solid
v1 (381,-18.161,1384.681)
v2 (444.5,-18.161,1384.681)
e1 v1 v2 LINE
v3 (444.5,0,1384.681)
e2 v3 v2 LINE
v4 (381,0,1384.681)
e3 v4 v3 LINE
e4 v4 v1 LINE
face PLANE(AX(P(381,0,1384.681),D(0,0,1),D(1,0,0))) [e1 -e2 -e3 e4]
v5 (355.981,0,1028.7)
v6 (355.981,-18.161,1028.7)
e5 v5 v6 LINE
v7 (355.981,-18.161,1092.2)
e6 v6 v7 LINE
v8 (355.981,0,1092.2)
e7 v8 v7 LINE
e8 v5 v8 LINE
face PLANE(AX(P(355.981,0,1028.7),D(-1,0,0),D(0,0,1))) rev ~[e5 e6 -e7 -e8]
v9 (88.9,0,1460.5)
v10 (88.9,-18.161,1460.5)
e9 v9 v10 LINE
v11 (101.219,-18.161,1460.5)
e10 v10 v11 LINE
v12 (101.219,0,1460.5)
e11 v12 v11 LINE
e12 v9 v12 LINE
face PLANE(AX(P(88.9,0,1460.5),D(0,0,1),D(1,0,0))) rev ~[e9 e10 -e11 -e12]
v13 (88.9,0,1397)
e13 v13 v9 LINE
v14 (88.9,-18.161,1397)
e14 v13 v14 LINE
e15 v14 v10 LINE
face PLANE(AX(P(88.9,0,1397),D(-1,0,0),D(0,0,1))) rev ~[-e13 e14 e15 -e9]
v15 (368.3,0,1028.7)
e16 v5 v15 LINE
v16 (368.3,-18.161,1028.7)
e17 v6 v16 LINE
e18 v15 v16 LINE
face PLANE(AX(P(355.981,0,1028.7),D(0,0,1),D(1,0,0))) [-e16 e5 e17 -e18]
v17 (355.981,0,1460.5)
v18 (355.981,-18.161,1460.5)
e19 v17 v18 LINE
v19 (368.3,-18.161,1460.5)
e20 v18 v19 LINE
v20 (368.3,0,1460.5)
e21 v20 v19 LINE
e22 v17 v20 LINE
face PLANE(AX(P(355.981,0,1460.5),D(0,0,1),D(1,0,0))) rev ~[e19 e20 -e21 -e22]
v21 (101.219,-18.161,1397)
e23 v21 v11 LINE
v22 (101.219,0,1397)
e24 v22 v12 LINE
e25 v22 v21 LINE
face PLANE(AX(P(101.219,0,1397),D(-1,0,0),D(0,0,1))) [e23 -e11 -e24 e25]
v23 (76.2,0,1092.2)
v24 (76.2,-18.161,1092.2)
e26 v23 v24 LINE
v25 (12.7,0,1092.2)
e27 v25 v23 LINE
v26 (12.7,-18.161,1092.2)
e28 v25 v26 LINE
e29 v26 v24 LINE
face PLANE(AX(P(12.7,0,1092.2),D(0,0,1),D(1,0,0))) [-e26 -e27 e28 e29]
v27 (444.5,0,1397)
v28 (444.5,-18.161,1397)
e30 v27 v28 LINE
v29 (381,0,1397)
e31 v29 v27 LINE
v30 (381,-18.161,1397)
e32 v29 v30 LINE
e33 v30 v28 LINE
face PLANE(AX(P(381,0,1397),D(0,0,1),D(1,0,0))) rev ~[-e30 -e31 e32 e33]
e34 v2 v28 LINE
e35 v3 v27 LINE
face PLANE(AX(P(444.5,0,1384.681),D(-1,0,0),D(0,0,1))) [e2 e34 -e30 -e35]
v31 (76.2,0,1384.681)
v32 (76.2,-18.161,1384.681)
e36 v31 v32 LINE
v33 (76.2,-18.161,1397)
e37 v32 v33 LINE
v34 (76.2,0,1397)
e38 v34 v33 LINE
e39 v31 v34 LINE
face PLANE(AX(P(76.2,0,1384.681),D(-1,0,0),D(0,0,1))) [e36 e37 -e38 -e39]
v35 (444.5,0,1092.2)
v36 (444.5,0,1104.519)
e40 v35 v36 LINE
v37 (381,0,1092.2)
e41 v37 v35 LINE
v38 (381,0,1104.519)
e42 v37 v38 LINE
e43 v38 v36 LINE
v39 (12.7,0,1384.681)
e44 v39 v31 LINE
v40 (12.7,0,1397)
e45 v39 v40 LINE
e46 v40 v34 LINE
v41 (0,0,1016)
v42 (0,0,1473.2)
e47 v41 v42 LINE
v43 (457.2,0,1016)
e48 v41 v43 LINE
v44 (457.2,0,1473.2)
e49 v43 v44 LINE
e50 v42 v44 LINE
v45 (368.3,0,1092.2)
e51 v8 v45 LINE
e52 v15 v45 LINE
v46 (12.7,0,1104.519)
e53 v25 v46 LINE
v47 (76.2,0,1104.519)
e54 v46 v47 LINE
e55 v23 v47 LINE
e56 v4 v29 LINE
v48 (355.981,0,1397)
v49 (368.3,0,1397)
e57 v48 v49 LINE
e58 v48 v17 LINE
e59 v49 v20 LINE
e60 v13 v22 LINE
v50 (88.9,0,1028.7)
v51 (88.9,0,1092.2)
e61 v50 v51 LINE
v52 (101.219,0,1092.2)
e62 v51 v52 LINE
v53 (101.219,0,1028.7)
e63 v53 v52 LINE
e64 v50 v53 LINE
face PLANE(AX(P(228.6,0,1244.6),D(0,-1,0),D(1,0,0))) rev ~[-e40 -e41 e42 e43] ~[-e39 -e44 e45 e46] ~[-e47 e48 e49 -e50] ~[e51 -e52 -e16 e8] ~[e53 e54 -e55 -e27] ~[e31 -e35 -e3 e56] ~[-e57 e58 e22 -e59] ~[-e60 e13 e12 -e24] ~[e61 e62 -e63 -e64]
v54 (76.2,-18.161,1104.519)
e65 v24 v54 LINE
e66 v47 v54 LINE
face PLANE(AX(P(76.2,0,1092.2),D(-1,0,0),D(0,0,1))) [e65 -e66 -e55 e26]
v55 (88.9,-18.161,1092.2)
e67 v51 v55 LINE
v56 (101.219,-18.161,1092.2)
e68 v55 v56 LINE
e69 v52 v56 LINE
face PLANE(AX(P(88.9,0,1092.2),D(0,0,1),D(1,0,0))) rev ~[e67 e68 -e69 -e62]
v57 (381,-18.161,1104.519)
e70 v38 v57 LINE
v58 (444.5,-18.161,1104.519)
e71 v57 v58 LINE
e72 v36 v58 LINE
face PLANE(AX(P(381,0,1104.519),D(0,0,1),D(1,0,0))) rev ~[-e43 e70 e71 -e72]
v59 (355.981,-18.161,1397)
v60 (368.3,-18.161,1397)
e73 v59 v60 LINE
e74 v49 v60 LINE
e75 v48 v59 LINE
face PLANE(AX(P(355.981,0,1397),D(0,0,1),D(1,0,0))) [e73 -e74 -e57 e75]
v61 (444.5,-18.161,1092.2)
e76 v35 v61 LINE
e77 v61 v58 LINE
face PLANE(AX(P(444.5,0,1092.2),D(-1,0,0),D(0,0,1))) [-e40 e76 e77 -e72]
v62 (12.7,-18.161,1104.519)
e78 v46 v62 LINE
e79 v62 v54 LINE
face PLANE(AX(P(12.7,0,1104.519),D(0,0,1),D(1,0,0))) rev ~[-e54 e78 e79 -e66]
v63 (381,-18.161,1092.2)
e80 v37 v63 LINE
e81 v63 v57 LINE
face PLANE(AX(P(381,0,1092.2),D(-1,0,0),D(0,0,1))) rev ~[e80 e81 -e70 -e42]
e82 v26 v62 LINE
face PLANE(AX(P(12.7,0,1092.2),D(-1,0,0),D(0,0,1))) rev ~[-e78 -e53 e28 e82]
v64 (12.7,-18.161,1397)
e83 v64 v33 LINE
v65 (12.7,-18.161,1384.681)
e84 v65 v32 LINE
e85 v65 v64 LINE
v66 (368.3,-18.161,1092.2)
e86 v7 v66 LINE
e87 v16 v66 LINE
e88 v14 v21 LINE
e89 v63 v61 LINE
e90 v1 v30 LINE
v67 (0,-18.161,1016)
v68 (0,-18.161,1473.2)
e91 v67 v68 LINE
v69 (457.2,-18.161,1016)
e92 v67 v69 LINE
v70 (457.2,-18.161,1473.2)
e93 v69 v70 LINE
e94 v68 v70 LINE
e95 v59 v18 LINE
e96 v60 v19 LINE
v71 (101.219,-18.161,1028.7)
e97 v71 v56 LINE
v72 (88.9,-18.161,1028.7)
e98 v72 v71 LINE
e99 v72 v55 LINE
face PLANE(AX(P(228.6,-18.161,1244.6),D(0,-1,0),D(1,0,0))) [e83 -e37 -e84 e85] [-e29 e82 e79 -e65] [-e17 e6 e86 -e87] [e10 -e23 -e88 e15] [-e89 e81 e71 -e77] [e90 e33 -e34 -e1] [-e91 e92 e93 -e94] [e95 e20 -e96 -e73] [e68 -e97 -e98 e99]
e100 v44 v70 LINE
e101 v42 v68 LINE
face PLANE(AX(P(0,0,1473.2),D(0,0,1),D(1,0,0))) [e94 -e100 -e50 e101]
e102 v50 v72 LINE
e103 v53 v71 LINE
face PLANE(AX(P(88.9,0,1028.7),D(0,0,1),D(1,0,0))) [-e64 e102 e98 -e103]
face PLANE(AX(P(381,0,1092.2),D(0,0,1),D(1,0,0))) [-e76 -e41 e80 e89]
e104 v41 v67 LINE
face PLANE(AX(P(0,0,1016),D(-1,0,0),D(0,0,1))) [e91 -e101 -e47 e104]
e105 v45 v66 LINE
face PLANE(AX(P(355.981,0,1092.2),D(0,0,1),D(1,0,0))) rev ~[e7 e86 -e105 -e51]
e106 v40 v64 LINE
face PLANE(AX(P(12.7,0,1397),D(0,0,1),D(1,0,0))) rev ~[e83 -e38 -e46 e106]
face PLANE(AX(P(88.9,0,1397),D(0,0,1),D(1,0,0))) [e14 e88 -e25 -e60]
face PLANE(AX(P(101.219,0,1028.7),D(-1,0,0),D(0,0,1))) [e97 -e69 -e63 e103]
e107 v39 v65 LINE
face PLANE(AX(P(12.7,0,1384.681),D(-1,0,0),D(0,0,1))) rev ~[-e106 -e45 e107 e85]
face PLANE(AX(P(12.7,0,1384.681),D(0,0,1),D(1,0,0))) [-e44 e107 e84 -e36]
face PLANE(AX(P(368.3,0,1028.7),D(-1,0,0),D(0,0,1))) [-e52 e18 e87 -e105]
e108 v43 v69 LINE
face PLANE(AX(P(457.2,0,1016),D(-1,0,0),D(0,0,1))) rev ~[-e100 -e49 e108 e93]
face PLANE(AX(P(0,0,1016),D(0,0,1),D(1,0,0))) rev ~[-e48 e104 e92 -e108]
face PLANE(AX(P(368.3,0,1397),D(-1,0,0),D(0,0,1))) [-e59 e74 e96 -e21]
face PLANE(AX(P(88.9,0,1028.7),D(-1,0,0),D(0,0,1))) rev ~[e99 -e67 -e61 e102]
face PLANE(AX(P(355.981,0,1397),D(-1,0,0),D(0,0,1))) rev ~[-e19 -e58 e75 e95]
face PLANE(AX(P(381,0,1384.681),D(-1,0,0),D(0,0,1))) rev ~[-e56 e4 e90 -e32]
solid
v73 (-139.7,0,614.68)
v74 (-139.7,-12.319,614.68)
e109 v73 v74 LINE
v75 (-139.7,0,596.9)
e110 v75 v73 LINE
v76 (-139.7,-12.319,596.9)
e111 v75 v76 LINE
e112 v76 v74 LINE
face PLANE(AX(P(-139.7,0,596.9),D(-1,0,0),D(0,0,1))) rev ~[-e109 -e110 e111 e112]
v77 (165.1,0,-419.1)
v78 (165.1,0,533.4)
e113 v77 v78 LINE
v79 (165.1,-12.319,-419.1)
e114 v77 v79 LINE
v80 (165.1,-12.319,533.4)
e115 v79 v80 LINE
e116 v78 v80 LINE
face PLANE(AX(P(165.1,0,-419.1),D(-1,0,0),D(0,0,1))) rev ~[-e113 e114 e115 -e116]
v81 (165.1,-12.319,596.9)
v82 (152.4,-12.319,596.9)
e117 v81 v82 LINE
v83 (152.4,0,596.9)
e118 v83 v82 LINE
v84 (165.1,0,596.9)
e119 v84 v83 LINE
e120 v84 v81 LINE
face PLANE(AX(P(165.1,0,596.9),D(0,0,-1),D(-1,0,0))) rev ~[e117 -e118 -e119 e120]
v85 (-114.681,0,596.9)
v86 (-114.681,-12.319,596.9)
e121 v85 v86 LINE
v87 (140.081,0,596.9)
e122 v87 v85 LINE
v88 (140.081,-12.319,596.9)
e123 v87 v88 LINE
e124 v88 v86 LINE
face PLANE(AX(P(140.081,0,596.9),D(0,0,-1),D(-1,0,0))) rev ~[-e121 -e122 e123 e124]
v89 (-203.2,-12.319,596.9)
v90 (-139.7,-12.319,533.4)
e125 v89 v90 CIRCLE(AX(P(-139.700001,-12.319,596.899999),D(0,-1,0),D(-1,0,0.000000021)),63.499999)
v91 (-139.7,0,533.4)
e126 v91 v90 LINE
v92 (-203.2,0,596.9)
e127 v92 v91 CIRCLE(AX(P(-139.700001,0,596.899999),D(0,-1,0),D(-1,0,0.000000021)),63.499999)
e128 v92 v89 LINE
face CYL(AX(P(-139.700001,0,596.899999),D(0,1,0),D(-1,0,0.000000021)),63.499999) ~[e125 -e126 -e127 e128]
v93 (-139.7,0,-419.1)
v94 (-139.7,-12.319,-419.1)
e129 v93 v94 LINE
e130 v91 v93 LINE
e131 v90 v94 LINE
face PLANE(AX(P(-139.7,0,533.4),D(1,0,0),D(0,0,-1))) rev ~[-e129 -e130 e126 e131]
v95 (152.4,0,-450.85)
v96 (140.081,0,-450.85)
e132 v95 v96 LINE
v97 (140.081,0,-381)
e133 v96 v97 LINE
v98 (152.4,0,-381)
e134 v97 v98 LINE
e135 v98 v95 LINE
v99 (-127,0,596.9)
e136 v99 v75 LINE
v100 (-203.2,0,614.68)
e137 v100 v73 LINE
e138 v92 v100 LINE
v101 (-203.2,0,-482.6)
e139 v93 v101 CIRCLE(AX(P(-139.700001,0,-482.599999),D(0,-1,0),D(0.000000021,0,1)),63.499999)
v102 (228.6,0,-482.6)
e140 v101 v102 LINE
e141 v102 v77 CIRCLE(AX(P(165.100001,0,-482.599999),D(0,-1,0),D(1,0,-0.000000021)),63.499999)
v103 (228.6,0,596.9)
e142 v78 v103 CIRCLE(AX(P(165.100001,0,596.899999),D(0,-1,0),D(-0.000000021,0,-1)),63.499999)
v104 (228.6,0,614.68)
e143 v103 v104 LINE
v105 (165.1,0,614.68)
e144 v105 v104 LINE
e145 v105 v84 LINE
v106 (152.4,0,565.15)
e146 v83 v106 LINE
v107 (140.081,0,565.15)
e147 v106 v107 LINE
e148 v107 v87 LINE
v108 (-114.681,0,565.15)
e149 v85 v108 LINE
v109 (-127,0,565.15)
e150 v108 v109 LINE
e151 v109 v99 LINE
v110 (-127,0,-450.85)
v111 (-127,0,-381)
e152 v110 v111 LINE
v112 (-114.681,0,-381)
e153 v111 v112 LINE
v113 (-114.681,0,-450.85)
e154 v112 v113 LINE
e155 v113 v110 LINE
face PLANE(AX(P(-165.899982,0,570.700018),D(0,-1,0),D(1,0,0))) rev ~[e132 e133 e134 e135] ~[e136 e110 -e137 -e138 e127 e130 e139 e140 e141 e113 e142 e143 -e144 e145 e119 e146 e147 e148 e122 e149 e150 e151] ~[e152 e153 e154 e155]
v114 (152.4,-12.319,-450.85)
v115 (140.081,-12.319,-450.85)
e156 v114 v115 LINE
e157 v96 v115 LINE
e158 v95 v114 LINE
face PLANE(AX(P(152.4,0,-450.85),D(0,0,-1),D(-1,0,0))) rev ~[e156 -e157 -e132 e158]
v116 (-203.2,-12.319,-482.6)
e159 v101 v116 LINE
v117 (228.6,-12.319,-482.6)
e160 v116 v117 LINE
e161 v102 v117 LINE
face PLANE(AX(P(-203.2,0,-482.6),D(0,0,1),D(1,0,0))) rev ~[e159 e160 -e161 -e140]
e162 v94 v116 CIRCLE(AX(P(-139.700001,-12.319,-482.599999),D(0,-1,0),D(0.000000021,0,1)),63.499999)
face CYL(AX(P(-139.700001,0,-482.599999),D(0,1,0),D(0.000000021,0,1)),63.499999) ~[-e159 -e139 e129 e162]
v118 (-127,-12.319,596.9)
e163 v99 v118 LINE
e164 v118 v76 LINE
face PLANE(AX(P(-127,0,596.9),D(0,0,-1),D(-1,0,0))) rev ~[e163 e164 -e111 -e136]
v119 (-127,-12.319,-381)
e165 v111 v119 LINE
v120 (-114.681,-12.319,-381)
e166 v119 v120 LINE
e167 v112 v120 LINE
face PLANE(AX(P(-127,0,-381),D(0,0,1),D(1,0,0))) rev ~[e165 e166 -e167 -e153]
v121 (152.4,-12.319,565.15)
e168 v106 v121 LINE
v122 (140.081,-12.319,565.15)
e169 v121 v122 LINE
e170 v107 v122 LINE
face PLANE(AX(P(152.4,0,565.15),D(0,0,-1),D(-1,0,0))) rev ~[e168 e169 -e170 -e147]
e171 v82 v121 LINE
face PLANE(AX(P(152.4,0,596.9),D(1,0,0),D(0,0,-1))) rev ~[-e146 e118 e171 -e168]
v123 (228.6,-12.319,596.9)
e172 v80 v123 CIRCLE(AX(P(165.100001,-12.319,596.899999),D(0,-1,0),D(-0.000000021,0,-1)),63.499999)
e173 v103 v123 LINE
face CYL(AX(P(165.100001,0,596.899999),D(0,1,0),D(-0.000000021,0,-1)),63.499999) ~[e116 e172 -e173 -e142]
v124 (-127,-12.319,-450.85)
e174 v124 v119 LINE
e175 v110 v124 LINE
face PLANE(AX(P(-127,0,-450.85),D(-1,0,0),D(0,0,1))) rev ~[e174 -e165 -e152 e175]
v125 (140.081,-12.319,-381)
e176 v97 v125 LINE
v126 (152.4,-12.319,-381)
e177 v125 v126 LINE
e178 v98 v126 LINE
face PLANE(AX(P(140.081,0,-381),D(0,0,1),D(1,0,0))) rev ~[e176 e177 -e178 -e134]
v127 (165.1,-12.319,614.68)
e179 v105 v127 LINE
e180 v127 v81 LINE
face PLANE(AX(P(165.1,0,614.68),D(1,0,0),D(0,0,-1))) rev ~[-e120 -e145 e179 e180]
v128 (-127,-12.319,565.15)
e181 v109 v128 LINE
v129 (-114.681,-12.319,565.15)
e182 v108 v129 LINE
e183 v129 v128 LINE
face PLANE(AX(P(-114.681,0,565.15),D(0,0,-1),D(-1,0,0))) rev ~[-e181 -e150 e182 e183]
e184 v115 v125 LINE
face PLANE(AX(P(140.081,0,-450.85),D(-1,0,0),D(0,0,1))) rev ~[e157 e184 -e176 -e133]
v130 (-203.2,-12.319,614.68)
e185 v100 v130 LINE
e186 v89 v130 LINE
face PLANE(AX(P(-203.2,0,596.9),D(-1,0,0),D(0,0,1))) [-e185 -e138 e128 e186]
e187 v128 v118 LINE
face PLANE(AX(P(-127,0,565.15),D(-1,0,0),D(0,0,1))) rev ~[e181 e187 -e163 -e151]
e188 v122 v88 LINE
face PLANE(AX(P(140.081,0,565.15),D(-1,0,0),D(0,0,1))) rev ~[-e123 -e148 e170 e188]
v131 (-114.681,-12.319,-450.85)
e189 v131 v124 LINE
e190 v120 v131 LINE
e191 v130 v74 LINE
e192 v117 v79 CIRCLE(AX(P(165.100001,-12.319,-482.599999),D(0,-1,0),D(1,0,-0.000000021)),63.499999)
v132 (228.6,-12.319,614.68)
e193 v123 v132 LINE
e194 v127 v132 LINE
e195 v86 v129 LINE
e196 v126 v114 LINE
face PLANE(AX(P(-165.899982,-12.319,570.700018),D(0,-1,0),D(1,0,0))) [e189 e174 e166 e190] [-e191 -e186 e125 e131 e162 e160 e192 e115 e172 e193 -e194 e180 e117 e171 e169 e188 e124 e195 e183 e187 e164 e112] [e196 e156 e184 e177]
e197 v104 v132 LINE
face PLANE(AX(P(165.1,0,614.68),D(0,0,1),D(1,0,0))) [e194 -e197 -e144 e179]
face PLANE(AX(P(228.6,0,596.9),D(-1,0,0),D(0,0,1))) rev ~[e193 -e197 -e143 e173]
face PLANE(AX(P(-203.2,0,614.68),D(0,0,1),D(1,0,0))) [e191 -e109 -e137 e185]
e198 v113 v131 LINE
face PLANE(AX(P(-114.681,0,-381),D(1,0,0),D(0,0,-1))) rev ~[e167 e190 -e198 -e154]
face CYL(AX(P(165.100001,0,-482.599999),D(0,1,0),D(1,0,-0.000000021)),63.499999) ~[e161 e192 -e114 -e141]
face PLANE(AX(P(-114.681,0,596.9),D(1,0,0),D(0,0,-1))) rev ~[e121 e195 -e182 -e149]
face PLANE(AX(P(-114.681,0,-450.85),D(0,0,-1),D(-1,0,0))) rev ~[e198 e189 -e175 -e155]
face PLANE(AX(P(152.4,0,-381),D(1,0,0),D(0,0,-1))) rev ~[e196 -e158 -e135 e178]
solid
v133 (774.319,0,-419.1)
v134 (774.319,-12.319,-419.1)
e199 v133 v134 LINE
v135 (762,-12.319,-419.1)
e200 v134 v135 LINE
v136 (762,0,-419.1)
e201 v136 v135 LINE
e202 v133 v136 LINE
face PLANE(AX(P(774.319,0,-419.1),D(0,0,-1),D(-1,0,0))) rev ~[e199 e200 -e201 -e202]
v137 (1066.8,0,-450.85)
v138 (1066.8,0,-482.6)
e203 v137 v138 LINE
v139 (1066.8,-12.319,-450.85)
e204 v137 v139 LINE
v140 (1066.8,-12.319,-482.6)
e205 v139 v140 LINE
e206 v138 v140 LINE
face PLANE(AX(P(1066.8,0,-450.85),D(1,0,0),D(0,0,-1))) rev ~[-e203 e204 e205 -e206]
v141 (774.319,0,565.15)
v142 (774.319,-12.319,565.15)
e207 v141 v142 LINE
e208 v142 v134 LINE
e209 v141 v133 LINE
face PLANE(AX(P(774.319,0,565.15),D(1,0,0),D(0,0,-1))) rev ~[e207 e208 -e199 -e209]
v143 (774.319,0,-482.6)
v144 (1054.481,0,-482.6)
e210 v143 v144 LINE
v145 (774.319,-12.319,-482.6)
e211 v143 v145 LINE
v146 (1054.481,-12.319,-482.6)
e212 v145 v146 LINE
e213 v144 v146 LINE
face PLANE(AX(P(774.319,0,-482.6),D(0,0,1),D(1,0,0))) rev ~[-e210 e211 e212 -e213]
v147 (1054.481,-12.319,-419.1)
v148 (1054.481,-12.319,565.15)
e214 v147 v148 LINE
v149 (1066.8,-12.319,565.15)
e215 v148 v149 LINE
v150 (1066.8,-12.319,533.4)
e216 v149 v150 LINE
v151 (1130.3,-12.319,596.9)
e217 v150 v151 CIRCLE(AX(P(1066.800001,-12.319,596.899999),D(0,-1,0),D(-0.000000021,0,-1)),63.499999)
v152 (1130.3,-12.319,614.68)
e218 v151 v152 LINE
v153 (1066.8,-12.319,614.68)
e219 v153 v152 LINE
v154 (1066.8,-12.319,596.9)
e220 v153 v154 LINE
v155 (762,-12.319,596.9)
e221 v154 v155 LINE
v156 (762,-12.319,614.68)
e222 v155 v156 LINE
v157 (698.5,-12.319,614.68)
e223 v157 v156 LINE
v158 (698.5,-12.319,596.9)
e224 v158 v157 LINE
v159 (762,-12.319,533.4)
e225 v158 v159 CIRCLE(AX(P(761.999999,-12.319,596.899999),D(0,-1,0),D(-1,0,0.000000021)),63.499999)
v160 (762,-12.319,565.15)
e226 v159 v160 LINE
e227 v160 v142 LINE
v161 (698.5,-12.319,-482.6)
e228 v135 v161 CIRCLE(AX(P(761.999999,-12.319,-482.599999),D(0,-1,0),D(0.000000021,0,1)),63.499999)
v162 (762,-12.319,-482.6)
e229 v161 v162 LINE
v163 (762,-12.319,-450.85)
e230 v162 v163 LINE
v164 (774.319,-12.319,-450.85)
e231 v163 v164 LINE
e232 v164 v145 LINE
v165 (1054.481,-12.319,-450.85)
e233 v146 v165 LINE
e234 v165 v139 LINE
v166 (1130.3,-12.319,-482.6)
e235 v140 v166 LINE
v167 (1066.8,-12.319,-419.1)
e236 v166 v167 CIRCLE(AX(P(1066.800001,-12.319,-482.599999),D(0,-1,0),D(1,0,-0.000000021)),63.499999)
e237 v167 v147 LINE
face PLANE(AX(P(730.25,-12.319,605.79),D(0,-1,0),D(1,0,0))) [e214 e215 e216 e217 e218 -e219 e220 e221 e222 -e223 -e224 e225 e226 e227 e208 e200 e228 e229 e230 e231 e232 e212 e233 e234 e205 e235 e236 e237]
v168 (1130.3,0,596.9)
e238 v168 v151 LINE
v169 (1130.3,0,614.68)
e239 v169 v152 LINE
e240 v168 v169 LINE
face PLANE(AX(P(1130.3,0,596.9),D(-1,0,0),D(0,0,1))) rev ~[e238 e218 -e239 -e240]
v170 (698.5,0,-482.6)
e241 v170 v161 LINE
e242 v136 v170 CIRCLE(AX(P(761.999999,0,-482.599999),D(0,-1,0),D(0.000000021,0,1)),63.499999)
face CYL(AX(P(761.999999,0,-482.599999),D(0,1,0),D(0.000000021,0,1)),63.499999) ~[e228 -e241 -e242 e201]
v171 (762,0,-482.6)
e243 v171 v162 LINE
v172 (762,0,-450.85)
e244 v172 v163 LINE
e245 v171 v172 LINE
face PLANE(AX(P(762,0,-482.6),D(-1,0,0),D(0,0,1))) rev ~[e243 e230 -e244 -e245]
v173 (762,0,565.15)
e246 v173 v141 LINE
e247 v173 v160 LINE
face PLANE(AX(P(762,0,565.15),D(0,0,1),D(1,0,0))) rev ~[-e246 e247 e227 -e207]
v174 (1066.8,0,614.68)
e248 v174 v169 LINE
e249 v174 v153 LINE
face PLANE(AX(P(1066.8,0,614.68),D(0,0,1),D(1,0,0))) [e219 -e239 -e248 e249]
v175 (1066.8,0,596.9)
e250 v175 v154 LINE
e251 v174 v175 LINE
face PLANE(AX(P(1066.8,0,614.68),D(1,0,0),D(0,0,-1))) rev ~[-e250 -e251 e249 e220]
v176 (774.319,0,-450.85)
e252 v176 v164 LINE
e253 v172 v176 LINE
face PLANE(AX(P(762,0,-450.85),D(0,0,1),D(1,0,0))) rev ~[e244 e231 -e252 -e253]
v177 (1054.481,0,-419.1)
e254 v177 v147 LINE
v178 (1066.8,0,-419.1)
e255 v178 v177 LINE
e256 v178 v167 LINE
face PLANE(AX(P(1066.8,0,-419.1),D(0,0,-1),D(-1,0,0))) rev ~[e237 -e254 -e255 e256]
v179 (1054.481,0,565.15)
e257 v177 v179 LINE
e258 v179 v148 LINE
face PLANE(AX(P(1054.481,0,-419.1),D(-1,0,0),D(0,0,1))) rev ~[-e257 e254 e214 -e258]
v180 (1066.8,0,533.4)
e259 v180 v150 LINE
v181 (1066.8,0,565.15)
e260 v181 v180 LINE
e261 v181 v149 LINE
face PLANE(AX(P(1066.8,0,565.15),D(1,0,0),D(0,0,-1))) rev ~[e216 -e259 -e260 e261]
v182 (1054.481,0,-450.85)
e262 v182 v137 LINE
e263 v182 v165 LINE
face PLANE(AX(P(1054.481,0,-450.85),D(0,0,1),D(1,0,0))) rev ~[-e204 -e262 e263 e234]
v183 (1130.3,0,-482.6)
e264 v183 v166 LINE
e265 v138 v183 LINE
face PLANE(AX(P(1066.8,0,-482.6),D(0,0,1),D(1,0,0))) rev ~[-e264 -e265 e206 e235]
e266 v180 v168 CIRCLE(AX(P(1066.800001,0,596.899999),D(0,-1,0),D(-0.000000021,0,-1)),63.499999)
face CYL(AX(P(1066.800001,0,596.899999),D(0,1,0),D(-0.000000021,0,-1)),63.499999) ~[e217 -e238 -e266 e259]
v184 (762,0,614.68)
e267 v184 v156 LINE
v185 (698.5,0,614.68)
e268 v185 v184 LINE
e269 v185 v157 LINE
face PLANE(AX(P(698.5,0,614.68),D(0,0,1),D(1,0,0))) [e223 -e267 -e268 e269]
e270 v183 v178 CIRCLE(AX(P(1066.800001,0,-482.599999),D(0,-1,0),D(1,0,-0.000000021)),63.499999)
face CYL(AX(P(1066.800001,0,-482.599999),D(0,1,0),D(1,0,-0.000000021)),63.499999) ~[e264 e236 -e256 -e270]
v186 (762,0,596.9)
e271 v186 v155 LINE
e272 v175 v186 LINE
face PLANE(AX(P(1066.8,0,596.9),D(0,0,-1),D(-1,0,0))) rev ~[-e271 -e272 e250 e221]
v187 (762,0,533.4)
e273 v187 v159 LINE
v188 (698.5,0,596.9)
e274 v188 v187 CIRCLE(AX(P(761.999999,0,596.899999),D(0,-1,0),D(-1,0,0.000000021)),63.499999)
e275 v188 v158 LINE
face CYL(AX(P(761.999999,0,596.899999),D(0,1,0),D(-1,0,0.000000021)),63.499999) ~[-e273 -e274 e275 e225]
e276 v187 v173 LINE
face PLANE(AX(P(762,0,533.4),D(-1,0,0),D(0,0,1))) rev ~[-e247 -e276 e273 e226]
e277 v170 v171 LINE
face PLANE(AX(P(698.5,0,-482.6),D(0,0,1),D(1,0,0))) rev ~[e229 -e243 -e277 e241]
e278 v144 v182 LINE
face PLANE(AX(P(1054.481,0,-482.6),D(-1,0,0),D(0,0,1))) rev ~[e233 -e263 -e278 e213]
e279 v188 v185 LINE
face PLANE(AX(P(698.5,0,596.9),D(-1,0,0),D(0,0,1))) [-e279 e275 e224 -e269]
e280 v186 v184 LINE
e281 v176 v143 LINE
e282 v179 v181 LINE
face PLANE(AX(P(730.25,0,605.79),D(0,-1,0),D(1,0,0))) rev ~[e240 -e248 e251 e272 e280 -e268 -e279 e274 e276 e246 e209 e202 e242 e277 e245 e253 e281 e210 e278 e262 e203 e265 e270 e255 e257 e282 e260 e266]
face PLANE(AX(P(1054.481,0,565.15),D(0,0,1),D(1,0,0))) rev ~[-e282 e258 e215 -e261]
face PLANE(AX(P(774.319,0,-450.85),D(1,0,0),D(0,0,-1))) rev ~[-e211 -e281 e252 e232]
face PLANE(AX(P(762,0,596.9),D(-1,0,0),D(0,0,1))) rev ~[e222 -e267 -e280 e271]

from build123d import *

# Parameters (mm, degrees)
F0_W     = 63.5
F0_H     = 17.78
F0_W_2   = 12.7
F0_H_2   = 38.1
F1_DEPTH = 12.319
F0_W_3   = 457.2
F0_H_3   = 457.2
F0_H_4   = 12.319
F0_W_4   = 12.319
F0_H_5   = 63.5
F2_DEPTH = 18.161


with BuildPart() as f1:
    # F0 (on Front) → F1 (new body)
    with BuildSketch(Plane.XZ):
        with BuildLine():
            Line((-139.7, 565.15), (-139.7, 596.9))
            Line((-139.7, 596.9), (-203.2, 596.9))
            ThreePointArc((-203.2, 596.9), (-184.601281, 551.998719), (-139.7, 533.4))
            Line((-139.7, 533.4), (-139.7, 565.15))
        make_face()
        with BuildLine():
            Line((228.6, 596.9), (165.1, 596.9))
            Line((165.1, 596.9), (165.1, 533.4))
            ThreePointArc((165.1, 533.4), (210.001281, 551.998719), (228.6, 596.9))
        make_face()
        with BuildLine():
            Line((-139.7, -482.6), (-139.7, -419.1))
            ThreePointArc((-139.7, -419.1), (-184.601281, -437.698719), (-203.2, -482.6))
            Line((-203.2, -482.6), (-139.7, -482.6))
        make_face()
        with BuildLine():
            Line((165.1, -419.1), (165.1, -482.6))
            Line((165.1, -482.6), (228.6, -482.6))
            ThreePointArc((228.6, -482.6), (210.001281, -437.698719), (165.1, -419.1))
        make_face()
        with Locations((-171.45, 605.79)):
            Rectangle(F0_W, F0_H)
        with Locations((196.85, 605.79)):
            Rectangle(F0_W, F0_H)
        with Locations((730.25, 605.79)):
            Rectangle(F0_W, F0_H)
        with BuildLine():
            ThreePointArc((698.5, 596.9), (717.098719, 551.998719), (762, 533.4))
            Line((762, 533.4), (762, 565.15))
            Line((762, 565.15), (762, 596.9))
            Line((762, 596.9), (698.5, 596.9))
        make_face()
        with Locations((1098.55, 605.79)):
            Rectangle(F0_W, F0_H)
        with BuildLine():
            Line((1066.8, 565.15), (1066.8, 533.4))
            ThreePointArc((1066.8, 533.4), (1111.701281, 551.998719), (1130.3, 596.9))
            Line((1130.3, 596.9), (1066.8, 596.9))
            Line((1066.8, 596.9), (1066.8, 565.15))
        make_face()
        with BuildLine():
            Line((698.5, -482.6), (762, -482.6))
            Line((762, -482.6), (762, -450.85))
            Line((762, -450.85), (762, -419.1))
            ThreePointArc((762, -419.1), (717.098719, -437.698719), (698.5, -482.6))
        make_face()
        with BuildLine():
            Line((1066.8, -450.85), (1066.8, -482.6))
            Line((1066.8, -482.6), (1130.3, -482.6))
            ThreePointArc((1130.3, -482.6), (1111.701281, -437.698719), (1066.8, -419.1))
            Line((1066.8, -419.1), (1066.8, -450.85))
        make_face()
        Polygon((-127, 596.9), (-139.7, 596.9), (-139.7, 565.15), (-139.7, 533.4), (-139.7, -381), (-127, -381), (-114.681, -381), (-114.681, -450.85), (-127, -450.85), (-127, -419.1), (-139.7, -419.1), (-139.7, -482.6), (165.1, -482.6), (165.1, -419.1), (152.4, -419.1), (152.4, -450.85), (140.081, -450.85), (140.081, -381), (152.4, -381), (165.1, -381), (165.1, 533.4), (165.1, 596.9), (152.4, 596.9), (152.4, 565.15), (140.081, 565.15), (140.081, 596.9), (-114.681, 596.9), (-114.681, 565.15), (-127, 565.15), align=None)
        Polygon((774.319, -450.85), (774.319, -482.6), (1054.481, -482.6), (1054.481, -450.85), (1066.8, -450.85), (1066.8, -419.1), (1054.481, -419.1), (1054.481, 533.4), (1054.481, 565.15), (1066.8, 565.15), (1066.8, 596.9), (762, 596.9), (762, 565.15), (774.319, 565.15), (774.319, 533.4), (774.319, -419.1), (762, -419.1), (762, -450.85), align=None)
        with Locations((-133.35, -400.05)):
            Rectangle(F0_W_2, F0_H_2)
        with Locations((158.75, -400.05)):
            Rectangle(F0_W_2, F0_H_2)
    extrude(amount=F1_DEPTH)


with BuildPart() as f2:
    # F0 (on Front) → F2 (new body)
    with BuildSketch(Plane.XZ):
        with Locations((228.6, 1244.6)):
            Rectangle(F0_W_3, F0_H_3)
        with Locations((44.45, 1098.3595)):
            Rectangle(F0_W, F0_H_4, mode=Mode.SUBTRACT)
        with Locations((95.0595, 1060.45)):
            Rectangle(F0_W_4, F0_H_5, mode=Mode.SUBTRACT)
        with Locations((44.45, 1390.8405)):
            Rectangle(F0_W, F0_H_4, mode=Mode.SUBTRACT)
        with Locations((95.0595, 1428.75)):
            Rectangle(F0_W_4, F0_H_5, mode=Mode.SUBTRACT)
        with Locations((362.1405, 1060.45)):
            Rectangle(F0_W_4, F0_H_5, mode=Mode.SUBTRACT)
        with Locations((412.75, 1098.3595)):
            Rectangle(F0_W, F0_H_4, mode=Mode.SUBTRACT)
        with Locations((362.1405, 1428.75)):
            Rectangle(F0_W_4, F0_H_5, mode=Mode.SUBTRACT)
        with Locations((412.75, 1390.8405)):
            Rectangle(F0_W, F0_H_4, mode=Mode.SUBTRACT)
    extrude(amount=F2_DEPTH)


solid = Compound([f1.part, f2.part])
